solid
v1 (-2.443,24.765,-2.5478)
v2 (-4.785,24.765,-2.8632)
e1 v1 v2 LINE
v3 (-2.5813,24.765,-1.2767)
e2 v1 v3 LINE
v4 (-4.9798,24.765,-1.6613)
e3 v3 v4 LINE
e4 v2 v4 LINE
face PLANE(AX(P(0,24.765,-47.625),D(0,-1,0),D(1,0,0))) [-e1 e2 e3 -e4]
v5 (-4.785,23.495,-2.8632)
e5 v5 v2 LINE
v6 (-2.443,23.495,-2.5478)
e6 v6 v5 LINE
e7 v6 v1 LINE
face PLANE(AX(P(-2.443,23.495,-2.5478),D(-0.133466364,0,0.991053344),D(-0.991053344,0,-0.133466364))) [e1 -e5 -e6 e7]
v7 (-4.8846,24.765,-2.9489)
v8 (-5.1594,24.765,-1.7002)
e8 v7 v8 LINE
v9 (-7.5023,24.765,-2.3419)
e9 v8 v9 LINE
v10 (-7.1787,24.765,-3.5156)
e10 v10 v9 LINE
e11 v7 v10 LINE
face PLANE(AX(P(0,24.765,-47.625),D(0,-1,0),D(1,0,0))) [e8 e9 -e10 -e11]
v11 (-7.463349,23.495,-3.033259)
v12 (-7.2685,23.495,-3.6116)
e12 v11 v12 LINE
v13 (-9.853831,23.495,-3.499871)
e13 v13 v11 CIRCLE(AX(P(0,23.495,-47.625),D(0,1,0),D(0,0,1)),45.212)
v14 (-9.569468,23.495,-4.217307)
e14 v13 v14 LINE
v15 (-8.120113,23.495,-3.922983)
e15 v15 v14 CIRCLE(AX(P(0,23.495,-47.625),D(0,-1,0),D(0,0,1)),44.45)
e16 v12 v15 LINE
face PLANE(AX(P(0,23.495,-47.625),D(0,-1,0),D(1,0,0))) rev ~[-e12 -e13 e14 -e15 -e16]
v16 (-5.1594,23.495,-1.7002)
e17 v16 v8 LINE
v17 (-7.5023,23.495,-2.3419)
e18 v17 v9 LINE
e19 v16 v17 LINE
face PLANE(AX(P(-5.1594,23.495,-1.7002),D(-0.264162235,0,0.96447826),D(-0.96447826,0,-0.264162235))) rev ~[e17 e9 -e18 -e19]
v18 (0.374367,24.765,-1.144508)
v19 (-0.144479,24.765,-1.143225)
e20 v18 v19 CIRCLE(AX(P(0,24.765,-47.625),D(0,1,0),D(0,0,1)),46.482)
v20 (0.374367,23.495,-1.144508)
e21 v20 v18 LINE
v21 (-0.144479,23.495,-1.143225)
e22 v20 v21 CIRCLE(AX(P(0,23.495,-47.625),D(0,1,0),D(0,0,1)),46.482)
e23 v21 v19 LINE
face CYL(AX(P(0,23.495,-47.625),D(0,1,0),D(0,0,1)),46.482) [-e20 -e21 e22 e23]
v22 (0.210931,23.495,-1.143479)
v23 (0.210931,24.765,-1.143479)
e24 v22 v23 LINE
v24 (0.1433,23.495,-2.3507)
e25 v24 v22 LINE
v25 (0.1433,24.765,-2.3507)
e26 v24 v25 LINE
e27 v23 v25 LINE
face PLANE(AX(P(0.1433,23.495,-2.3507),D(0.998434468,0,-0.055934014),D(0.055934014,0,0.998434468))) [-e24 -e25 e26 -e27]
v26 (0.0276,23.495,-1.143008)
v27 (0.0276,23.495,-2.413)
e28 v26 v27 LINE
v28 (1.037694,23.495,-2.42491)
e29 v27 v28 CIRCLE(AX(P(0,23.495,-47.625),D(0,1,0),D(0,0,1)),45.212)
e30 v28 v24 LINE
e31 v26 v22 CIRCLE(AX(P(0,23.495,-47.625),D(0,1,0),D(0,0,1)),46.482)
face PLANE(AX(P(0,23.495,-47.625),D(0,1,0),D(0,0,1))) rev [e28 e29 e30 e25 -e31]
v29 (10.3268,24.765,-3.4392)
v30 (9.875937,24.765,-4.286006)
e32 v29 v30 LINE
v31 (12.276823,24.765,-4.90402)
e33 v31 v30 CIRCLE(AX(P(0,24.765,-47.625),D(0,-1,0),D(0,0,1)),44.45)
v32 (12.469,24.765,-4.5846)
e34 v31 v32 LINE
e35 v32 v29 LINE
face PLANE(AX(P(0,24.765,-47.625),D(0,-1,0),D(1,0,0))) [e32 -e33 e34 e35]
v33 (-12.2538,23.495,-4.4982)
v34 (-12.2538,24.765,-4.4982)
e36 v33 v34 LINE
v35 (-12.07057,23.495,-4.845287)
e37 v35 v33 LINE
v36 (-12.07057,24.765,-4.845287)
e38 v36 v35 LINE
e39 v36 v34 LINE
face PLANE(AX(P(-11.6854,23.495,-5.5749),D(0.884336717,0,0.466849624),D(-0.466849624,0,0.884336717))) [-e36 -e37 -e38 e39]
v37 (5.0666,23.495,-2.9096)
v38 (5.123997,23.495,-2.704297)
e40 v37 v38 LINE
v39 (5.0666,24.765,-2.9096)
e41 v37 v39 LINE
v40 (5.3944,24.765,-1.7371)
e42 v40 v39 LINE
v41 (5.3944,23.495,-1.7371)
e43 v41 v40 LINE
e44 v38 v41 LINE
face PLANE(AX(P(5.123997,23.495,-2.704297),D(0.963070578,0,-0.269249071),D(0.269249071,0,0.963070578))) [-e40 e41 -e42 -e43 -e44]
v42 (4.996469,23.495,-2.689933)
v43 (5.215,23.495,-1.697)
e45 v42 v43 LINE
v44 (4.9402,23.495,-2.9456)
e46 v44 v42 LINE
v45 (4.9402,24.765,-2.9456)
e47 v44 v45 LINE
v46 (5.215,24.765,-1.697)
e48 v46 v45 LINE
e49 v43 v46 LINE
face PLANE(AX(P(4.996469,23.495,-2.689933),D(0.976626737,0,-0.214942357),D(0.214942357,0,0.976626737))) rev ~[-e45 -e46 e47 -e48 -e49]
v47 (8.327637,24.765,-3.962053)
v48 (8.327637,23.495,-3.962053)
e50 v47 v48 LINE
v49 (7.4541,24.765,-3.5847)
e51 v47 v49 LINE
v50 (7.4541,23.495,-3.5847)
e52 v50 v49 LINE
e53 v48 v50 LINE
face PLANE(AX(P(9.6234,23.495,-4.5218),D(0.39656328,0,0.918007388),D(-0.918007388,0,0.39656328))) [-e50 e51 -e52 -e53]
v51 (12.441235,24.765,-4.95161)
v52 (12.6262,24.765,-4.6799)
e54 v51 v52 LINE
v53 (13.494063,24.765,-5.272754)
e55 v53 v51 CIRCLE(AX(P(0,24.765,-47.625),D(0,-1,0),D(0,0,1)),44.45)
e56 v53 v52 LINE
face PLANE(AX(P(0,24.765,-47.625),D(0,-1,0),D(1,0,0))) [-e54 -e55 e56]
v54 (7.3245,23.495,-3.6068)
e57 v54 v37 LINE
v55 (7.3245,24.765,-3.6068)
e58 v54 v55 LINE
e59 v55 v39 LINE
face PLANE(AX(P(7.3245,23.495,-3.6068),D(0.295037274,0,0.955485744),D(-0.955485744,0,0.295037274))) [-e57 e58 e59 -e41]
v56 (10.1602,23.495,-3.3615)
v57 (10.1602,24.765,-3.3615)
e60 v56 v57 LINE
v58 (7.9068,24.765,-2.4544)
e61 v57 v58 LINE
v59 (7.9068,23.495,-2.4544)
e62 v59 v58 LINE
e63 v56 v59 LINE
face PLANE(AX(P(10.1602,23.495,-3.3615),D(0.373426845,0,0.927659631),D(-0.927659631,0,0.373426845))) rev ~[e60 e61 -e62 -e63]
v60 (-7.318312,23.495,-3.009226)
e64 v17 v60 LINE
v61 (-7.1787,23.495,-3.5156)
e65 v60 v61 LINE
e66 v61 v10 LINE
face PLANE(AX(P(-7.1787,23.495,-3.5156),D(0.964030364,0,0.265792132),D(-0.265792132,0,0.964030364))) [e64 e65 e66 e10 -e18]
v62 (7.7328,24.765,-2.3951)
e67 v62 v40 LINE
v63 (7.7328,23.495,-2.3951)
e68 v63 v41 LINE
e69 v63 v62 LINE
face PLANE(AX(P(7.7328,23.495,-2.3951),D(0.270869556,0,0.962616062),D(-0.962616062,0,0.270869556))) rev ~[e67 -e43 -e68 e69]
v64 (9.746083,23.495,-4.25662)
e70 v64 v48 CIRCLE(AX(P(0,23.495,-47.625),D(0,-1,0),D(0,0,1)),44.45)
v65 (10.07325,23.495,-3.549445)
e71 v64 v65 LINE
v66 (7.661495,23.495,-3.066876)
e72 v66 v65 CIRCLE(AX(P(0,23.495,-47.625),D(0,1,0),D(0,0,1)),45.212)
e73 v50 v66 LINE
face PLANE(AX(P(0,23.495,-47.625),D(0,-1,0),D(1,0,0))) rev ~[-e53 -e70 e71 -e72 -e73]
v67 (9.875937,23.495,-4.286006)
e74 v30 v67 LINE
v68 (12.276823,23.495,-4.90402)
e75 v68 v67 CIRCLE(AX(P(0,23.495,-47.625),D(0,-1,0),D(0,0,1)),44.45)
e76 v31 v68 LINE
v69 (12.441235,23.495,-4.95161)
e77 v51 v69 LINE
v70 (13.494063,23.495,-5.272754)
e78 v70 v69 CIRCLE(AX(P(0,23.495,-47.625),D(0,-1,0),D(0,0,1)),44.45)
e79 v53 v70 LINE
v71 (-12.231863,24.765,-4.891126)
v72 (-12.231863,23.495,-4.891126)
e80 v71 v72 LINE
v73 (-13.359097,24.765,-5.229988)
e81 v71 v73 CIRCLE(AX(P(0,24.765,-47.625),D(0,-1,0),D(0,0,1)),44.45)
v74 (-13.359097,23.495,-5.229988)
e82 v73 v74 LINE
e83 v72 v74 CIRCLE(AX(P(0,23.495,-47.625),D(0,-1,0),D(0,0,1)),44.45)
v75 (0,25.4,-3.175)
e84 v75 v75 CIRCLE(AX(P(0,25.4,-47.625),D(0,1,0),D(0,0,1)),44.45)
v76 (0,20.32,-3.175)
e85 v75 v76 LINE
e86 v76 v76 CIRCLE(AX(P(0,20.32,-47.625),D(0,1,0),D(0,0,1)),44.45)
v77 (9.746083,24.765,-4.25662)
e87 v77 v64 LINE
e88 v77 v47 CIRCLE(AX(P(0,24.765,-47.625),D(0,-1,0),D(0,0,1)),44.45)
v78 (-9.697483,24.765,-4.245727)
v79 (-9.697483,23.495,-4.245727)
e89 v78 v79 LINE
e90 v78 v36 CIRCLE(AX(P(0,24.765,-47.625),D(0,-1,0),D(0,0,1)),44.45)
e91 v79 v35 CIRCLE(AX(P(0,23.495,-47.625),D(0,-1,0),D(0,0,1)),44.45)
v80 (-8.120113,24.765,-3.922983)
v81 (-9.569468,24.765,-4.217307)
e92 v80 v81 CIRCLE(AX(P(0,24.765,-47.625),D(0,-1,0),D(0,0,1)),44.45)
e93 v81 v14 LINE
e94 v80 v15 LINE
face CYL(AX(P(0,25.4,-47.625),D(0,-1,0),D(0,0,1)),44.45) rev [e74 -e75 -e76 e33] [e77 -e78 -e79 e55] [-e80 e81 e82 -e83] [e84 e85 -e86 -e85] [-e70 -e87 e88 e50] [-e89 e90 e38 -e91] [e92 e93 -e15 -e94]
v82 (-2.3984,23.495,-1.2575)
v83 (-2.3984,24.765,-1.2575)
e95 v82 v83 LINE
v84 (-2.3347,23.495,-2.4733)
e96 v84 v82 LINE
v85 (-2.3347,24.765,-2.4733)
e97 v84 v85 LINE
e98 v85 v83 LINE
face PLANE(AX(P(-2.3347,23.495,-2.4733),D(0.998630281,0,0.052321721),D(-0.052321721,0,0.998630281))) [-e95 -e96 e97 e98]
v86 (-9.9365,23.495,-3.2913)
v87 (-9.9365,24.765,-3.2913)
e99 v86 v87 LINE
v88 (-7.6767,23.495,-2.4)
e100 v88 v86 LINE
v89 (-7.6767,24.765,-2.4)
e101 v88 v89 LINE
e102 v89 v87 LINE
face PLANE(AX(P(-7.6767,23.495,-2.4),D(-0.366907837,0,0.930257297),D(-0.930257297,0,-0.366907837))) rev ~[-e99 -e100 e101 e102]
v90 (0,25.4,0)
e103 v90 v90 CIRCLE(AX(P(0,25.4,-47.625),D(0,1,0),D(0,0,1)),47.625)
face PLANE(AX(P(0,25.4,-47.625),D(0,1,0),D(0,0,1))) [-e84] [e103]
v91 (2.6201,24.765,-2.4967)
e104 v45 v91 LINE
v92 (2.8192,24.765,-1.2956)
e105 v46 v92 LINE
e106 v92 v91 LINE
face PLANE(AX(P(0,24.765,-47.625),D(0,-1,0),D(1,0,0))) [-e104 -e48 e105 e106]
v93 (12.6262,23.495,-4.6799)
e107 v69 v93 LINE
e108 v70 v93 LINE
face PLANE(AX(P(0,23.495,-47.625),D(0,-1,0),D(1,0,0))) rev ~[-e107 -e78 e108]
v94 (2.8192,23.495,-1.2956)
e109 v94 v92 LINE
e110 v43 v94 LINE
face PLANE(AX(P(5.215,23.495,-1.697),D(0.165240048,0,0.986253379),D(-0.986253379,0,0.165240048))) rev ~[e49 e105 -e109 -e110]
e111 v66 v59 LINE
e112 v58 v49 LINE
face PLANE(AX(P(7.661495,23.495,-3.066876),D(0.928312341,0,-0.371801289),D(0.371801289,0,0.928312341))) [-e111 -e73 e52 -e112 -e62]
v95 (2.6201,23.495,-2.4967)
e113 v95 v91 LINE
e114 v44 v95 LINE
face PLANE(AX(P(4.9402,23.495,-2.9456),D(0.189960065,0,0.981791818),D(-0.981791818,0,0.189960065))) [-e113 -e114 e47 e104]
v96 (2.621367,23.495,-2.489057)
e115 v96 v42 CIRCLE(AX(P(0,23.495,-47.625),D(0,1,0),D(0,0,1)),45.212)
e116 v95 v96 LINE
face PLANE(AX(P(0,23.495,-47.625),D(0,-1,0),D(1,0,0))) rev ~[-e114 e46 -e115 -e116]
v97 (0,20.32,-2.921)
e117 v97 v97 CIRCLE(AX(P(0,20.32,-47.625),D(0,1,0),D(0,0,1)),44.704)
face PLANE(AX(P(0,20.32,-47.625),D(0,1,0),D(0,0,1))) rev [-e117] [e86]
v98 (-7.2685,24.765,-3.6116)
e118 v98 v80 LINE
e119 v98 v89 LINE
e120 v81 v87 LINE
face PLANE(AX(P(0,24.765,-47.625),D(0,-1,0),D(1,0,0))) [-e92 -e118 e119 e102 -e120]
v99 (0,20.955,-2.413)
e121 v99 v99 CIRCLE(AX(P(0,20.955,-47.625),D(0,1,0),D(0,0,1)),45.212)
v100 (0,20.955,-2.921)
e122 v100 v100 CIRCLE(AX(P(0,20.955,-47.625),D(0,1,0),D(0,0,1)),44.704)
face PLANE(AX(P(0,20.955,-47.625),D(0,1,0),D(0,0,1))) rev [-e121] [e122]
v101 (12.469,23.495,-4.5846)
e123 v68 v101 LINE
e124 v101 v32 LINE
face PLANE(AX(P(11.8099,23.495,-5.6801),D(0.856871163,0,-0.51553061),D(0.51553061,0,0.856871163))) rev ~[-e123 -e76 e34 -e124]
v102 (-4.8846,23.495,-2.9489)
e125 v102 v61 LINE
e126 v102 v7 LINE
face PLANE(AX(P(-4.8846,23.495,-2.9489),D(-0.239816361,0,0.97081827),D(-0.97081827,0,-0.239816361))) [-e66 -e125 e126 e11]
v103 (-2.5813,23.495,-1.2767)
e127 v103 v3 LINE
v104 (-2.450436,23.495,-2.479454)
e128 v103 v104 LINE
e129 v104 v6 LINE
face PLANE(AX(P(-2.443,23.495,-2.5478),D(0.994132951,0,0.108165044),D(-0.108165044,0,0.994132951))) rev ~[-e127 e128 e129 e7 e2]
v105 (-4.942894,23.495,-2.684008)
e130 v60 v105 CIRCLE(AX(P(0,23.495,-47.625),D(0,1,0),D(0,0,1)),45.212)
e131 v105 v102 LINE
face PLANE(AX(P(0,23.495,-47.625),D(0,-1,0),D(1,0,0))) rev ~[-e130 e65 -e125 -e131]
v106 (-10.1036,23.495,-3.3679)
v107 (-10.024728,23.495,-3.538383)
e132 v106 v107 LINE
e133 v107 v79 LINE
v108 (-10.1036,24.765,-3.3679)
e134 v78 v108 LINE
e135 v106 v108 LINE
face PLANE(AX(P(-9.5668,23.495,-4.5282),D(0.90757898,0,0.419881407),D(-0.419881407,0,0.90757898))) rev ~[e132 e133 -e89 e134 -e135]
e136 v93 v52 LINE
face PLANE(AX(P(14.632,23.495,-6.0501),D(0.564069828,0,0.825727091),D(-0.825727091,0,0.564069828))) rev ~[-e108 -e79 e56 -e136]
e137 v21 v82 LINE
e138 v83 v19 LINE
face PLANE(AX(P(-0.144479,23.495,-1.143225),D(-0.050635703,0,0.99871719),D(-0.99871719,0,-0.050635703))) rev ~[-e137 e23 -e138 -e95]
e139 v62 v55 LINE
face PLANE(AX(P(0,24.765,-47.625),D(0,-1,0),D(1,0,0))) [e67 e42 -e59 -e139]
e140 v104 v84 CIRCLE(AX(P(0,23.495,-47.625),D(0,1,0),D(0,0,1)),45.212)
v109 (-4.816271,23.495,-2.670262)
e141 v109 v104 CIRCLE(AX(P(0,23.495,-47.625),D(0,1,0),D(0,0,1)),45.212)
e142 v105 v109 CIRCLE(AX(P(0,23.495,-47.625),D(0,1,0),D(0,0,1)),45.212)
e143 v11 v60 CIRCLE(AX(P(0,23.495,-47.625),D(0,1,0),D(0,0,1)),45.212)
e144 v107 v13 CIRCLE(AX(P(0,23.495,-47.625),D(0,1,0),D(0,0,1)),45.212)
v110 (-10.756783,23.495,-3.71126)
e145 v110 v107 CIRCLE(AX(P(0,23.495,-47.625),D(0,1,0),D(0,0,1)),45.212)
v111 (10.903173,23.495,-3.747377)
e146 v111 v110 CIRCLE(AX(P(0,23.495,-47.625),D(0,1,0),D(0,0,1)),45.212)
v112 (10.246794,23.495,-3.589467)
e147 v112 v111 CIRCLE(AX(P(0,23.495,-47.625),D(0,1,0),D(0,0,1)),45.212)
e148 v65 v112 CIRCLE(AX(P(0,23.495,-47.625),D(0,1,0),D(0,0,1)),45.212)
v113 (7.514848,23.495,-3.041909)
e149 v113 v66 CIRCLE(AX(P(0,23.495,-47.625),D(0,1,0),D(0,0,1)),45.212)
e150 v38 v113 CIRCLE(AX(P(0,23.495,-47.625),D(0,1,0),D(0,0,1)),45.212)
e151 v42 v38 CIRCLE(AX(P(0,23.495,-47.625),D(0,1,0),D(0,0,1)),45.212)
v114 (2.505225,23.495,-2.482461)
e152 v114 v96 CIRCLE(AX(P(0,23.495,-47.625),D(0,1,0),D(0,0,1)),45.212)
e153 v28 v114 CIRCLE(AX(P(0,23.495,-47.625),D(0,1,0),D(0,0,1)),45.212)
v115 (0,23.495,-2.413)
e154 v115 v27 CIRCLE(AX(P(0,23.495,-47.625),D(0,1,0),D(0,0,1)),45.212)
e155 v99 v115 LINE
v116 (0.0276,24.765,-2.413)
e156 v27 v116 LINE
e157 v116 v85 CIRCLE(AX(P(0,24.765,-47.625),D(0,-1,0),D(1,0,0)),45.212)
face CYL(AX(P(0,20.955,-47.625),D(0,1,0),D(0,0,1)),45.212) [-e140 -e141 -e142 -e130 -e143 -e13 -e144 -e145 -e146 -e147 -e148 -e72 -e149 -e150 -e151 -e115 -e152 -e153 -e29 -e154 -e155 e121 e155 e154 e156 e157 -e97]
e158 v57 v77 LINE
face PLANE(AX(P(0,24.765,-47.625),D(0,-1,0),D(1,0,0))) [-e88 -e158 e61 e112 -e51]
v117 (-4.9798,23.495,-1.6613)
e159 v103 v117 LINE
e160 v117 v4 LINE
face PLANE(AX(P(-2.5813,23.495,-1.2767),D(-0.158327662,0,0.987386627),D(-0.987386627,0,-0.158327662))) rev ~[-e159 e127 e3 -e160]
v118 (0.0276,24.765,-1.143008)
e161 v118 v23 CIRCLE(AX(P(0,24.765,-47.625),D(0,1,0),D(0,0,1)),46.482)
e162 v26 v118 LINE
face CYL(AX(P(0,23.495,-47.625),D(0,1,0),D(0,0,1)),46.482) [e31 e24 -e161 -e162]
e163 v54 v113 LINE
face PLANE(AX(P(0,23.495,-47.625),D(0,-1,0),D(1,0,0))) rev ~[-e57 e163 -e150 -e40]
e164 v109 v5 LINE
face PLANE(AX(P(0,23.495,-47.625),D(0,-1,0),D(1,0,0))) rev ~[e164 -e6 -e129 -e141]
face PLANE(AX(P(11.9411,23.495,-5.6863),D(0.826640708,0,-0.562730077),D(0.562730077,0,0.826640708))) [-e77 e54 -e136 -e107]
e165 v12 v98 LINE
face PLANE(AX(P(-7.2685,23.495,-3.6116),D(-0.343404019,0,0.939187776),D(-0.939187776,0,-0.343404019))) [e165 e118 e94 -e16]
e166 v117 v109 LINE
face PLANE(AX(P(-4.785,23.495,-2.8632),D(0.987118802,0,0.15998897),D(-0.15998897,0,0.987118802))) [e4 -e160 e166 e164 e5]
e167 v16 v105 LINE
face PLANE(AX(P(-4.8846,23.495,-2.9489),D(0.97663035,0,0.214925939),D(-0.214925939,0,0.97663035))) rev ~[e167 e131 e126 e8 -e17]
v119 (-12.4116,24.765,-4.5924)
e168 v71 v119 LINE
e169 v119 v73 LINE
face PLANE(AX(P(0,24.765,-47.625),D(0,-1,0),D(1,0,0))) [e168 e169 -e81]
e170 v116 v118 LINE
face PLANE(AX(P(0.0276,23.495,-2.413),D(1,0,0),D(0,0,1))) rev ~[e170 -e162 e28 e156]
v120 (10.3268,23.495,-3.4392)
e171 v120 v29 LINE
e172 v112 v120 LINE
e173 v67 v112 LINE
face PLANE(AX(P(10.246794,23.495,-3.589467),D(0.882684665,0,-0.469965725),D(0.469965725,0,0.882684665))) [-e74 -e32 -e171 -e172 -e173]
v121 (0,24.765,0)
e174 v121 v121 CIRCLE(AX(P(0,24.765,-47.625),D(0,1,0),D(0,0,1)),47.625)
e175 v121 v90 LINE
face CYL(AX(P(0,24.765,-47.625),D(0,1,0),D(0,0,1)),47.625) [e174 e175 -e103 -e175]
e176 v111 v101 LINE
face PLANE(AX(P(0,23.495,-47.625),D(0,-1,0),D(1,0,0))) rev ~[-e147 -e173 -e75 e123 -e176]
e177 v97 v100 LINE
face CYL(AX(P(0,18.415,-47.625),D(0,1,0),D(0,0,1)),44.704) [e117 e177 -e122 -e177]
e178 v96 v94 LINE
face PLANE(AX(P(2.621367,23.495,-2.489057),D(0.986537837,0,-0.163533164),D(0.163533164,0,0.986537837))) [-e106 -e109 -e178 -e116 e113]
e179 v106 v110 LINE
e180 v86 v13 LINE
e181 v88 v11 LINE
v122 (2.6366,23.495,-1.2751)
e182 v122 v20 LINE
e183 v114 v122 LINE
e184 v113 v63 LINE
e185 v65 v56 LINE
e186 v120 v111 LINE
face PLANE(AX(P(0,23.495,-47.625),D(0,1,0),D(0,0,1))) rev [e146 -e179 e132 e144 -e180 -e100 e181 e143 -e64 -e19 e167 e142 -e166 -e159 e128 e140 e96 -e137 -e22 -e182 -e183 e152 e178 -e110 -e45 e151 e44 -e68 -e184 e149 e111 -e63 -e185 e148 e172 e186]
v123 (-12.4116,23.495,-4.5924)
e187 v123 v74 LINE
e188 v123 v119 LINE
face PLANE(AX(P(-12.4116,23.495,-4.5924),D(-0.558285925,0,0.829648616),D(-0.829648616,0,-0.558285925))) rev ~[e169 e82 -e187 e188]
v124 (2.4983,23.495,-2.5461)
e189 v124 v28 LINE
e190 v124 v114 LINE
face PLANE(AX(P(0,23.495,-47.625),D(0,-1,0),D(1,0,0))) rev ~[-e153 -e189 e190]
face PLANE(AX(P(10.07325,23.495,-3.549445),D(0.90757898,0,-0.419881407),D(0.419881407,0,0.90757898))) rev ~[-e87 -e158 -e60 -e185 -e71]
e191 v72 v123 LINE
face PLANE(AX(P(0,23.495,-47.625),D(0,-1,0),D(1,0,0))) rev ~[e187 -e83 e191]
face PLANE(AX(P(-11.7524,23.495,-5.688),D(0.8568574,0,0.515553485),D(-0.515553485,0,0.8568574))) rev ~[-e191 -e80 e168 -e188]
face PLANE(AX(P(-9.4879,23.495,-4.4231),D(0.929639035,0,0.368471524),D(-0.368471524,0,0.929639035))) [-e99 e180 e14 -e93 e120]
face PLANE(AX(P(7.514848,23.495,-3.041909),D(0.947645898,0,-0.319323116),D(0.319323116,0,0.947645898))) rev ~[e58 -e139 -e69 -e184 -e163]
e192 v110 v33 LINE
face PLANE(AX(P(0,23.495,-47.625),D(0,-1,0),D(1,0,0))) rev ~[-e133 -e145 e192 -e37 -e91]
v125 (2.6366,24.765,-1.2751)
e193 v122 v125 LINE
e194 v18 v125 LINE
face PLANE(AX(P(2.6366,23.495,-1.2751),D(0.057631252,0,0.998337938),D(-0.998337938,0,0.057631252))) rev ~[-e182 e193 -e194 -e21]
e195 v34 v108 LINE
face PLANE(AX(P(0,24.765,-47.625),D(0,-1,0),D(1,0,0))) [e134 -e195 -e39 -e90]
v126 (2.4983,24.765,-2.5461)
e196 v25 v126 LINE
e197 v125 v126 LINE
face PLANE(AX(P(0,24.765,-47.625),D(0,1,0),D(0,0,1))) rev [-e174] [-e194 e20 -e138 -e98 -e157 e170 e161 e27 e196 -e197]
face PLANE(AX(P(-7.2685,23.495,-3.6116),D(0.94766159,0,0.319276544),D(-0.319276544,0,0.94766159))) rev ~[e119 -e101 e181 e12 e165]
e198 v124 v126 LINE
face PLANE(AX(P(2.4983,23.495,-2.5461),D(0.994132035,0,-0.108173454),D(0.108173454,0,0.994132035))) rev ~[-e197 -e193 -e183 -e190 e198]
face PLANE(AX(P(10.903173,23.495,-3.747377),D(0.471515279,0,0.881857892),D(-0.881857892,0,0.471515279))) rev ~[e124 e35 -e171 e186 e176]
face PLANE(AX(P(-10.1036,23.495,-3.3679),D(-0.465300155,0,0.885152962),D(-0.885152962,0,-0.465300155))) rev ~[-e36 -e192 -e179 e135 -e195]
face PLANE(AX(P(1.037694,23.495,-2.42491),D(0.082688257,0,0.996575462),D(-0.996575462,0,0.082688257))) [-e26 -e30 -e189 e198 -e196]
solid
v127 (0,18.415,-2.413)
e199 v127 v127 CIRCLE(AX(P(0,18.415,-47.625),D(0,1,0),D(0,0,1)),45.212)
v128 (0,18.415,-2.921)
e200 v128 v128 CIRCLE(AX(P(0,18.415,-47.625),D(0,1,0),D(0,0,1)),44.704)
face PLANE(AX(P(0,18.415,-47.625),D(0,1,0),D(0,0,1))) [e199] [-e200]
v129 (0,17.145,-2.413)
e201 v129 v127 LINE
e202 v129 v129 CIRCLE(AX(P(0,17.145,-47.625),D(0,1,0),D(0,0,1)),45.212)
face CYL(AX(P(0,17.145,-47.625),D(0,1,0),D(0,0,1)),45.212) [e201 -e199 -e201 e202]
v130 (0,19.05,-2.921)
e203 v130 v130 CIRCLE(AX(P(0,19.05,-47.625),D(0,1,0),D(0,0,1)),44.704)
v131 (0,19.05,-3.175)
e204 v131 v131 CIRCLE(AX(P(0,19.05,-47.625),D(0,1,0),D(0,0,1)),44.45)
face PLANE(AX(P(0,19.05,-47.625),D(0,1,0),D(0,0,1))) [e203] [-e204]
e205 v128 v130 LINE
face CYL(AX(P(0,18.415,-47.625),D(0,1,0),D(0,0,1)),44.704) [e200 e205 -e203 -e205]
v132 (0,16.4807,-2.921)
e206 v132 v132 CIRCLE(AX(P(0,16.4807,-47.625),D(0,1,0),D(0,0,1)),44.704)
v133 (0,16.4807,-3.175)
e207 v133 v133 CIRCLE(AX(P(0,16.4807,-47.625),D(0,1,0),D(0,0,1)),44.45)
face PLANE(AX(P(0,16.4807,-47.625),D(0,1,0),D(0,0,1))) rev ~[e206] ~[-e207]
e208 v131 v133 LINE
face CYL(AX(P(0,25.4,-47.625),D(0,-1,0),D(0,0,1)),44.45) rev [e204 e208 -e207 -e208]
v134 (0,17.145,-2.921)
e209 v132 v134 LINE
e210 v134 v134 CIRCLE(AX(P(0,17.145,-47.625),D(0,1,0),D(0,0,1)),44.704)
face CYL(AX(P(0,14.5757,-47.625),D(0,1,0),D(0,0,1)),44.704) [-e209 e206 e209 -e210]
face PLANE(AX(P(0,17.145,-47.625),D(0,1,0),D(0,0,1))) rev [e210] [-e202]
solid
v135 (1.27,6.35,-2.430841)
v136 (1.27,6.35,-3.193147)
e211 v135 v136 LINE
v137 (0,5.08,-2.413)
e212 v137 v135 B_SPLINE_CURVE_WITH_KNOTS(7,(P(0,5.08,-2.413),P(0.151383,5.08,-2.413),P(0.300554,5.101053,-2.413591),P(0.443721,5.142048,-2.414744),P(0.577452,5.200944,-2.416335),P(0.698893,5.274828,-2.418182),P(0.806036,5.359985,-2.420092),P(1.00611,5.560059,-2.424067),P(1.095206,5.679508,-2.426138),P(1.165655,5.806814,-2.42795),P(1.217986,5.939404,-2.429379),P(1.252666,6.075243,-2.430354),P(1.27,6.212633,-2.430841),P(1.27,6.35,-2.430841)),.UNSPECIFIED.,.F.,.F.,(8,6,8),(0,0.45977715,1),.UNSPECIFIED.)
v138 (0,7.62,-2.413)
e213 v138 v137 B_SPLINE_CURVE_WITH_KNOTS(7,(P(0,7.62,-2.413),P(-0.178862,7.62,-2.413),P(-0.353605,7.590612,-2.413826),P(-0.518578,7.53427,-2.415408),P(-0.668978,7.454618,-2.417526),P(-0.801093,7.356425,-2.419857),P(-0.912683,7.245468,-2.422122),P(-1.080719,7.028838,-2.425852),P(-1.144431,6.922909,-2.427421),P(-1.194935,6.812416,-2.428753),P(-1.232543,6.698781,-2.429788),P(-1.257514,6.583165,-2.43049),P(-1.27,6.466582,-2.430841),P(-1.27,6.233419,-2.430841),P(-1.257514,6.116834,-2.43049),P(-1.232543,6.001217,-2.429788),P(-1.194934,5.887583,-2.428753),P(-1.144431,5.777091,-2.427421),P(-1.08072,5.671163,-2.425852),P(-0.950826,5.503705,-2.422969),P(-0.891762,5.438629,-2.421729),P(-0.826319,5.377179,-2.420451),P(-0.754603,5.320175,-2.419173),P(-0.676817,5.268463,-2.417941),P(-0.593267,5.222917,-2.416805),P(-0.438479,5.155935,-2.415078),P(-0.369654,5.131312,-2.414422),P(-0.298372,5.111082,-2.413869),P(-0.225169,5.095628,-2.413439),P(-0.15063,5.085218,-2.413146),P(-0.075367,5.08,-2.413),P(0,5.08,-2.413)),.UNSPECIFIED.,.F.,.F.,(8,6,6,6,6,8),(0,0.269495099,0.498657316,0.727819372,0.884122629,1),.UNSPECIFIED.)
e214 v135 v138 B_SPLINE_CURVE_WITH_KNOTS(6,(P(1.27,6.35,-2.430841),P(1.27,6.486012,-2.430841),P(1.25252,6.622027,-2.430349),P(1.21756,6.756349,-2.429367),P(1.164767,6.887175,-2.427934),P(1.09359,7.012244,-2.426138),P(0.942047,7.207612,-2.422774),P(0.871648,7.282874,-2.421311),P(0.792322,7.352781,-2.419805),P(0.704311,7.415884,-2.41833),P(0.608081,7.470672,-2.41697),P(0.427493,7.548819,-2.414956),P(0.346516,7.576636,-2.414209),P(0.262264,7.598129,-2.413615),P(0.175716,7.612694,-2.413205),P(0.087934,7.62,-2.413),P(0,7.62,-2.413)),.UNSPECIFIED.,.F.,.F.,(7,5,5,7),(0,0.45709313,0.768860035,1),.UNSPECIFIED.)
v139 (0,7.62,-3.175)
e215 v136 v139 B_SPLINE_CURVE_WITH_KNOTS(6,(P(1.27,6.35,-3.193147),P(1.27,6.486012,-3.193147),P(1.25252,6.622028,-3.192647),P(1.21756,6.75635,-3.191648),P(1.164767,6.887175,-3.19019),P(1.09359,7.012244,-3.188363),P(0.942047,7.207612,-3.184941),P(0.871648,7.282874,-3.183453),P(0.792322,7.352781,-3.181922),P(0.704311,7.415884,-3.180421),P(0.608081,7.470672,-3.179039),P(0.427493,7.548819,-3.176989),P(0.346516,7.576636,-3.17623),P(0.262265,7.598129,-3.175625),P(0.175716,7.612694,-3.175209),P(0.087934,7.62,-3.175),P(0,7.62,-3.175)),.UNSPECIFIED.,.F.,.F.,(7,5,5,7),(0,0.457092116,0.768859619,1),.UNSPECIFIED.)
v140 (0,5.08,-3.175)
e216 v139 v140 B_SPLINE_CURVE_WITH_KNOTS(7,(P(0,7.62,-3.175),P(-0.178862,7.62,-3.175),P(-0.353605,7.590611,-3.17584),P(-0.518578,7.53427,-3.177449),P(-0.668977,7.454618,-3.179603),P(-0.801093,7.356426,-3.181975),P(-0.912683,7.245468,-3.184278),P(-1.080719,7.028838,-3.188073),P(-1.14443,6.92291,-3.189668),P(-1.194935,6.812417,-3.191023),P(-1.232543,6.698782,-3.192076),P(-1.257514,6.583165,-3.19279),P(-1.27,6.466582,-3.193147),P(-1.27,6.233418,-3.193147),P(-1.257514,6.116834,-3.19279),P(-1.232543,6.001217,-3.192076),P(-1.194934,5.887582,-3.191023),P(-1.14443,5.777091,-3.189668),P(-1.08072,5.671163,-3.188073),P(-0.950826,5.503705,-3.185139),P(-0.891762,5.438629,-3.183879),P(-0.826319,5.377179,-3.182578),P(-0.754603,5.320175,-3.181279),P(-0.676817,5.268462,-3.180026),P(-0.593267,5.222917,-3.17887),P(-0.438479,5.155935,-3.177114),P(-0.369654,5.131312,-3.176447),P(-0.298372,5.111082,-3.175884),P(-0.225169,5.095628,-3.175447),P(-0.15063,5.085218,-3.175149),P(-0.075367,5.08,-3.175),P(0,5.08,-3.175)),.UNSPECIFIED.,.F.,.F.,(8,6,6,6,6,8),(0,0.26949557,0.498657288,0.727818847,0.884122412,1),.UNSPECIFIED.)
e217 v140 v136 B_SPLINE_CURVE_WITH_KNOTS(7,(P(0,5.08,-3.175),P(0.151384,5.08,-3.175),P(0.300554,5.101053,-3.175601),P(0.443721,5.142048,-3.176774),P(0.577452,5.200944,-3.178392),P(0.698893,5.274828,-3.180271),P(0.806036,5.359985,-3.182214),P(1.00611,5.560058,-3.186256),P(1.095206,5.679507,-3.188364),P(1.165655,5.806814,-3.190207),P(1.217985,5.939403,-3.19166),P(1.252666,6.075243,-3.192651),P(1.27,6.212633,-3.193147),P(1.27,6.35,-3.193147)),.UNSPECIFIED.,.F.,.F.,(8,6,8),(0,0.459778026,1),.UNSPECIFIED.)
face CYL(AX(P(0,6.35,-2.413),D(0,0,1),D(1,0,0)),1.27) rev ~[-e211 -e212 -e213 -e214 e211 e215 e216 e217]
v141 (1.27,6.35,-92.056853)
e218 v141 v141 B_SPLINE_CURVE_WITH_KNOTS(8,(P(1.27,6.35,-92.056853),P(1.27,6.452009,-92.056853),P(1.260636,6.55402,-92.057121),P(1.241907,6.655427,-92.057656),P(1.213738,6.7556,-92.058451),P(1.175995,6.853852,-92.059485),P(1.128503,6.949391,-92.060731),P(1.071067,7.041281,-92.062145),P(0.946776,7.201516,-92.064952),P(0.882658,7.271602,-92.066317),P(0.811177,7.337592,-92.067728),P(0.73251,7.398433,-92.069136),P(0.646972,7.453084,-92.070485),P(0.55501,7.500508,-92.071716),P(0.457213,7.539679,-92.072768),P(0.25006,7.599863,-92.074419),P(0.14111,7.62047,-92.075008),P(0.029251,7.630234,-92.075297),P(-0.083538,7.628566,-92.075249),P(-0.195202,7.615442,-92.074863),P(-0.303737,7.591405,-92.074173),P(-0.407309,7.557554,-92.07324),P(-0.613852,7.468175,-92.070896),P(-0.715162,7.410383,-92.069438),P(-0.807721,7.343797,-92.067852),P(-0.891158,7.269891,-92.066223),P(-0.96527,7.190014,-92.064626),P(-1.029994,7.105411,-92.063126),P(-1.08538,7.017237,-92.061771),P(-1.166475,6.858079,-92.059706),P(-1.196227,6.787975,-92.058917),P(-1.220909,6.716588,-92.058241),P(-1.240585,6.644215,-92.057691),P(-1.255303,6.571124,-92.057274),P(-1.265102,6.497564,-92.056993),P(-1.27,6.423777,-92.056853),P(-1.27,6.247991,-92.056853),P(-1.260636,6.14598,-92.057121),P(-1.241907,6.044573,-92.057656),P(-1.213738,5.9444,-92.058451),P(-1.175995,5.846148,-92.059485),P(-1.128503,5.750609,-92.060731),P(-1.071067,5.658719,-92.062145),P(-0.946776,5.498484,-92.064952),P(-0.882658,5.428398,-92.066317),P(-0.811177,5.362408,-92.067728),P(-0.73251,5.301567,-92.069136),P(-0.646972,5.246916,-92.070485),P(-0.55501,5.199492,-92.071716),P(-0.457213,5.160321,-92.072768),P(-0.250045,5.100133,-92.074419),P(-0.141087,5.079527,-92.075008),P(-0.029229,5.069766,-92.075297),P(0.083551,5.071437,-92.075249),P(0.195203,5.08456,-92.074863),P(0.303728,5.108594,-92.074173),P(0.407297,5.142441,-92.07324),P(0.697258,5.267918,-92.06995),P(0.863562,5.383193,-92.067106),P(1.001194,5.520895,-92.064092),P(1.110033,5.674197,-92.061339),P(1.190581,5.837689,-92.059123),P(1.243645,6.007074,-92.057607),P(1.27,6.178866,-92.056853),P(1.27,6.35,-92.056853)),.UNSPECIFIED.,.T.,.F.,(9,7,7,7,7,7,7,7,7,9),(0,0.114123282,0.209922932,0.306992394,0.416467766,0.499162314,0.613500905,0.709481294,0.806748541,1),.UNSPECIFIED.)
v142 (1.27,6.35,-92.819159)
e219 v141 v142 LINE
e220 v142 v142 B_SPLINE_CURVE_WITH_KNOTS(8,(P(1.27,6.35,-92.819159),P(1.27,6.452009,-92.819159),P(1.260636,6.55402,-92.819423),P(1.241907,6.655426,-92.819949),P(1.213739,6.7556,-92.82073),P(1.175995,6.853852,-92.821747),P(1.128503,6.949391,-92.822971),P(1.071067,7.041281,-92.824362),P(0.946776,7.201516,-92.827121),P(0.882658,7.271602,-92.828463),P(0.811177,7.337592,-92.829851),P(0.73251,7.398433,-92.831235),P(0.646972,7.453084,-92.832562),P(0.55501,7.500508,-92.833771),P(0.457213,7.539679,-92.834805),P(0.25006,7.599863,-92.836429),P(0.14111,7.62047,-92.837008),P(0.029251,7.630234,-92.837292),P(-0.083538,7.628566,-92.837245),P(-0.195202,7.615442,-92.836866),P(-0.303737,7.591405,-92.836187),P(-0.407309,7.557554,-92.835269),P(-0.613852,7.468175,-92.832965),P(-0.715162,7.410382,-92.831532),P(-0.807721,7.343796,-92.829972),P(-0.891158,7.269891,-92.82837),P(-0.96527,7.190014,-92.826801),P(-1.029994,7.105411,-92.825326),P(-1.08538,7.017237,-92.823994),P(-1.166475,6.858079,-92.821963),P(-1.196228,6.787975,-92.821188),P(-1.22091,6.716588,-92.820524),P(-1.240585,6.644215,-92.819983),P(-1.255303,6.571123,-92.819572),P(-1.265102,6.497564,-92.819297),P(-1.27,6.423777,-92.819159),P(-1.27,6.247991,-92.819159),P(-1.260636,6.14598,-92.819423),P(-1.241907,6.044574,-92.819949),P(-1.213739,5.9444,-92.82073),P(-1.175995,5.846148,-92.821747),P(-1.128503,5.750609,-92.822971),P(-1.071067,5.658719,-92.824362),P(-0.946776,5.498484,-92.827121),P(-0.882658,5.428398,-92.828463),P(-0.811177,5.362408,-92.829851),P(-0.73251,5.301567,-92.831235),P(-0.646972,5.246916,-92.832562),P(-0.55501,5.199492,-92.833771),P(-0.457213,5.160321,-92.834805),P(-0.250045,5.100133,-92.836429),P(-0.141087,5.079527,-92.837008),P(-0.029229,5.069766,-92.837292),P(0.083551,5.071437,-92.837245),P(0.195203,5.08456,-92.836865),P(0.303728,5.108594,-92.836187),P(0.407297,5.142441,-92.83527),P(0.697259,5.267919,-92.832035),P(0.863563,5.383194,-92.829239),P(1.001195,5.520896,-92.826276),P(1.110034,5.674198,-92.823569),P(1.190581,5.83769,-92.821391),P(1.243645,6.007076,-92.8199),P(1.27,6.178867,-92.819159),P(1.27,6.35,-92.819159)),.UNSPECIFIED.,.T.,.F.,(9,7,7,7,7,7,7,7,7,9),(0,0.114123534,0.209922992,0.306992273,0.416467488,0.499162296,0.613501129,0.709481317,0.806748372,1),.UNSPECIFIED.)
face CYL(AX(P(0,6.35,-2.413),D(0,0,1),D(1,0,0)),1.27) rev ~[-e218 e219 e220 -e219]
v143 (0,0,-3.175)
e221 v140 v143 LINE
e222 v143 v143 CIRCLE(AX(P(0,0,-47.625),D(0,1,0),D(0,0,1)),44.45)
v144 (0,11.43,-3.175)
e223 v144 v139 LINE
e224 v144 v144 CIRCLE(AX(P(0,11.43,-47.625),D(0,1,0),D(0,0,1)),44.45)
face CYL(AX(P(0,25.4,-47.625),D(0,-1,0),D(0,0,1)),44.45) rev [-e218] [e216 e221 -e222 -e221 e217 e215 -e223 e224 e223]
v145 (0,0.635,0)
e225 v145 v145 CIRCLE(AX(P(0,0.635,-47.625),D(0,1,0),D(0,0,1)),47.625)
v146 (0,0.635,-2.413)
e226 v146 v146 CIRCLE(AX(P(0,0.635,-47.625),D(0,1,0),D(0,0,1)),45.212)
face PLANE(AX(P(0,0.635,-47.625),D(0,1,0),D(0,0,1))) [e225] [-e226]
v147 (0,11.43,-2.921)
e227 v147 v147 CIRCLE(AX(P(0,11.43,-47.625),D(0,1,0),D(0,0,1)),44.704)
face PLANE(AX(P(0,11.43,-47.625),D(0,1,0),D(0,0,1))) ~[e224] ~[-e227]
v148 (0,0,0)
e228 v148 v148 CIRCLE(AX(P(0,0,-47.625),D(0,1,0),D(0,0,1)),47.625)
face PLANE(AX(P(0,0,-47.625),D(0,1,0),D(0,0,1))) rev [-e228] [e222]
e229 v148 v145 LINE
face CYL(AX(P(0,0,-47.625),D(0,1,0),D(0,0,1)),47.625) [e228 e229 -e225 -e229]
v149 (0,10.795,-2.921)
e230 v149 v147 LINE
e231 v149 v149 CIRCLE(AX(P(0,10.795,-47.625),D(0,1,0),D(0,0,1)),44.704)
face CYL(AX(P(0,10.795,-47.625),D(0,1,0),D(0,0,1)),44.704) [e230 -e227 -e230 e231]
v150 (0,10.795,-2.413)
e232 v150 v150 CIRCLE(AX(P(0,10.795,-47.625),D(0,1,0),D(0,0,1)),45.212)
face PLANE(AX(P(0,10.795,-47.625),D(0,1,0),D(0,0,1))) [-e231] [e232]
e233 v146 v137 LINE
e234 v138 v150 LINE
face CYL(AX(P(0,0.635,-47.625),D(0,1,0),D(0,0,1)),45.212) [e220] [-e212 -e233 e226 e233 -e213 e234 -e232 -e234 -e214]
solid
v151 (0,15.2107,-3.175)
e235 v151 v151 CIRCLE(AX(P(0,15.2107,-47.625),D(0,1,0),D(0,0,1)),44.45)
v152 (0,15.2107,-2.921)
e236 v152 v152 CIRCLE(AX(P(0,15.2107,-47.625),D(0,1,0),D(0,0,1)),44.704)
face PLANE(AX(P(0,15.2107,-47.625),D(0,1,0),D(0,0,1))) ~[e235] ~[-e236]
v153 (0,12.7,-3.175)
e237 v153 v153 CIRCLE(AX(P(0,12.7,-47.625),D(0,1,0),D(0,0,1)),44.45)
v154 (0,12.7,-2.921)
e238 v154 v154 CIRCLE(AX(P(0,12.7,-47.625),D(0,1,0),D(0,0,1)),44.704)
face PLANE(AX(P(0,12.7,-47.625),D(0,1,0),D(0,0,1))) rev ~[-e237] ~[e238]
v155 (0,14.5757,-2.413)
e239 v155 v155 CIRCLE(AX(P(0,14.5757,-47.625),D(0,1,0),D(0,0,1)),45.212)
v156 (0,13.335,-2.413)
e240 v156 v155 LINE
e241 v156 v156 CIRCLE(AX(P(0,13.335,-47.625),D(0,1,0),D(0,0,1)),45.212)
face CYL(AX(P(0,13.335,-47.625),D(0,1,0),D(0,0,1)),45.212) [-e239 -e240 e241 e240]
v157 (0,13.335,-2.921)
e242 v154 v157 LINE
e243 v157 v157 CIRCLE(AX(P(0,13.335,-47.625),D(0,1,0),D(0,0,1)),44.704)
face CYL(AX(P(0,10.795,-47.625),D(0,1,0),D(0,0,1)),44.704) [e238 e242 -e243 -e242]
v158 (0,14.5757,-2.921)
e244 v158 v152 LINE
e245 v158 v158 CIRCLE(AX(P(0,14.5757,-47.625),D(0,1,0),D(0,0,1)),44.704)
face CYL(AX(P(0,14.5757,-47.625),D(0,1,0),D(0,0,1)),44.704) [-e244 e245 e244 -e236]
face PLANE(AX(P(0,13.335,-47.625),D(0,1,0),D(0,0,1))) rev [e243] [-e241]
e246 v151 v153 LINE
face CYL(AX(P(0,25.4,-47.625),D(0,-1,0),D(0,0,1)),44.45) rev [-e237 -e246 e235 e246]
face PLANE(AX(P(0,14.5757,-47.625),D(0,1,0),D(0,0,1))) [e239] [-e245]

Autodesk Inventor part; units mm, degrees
ref_plane "YZ Plane" through (0, 0, 0) normal (1, 0, 0) x (0, 1, 0)
ref_plane "XZ Plane" through (0, 0, 0) normal (0, 1, 0) x (-1, 0, 0)
sketch "Sketch1" plane through (0, 0, 0) normal (1, 0, 0) x (0, 1, 0)
  line L0 (25.4, 0) -> (25.4, -3.175)
  line L1 (0, -3.175) -> (0, 0)
  line L2 (0.635, 0) -> (0.635, -2.413)
  line L3 (24.765, -1.143) -> (24.765, 0)
  line L4 (0, 0) -> (0.635, 0)
  line L5 (24.765, 0) -> (25.4, 0)
  line L6 (18.415, -2.413) -> (18.415, -2.921)
  line L7 (18.415, -2.921) -> (20.955, -2.921)
  line L8 (20.955, -2.921) -> (20.955, -2.413)
  line L9 (10.795, -2.413) -> (10.795, -2.921)
  line L10 (10.795, -2.921) -> (13.335, -2.921)
  line L11 (13.335, -2.921) -> (13.335, -2.413)
  line L12 (14.5757, -2.413) -> (14.5757, -2.921)
  line L13 (14.5757, -2.921) -> (17.145, -2.921)
  line L14 (17.145, -2.921) -> (17.145, -2.413)
  line L15 (23.495, -2.413) -> (23.495, -1.143)
  line L16 (23.495, -1.143) -> (24.765, -1.143)
  line L17 (20.955, -2.413) -> (23.495, -2.413)
  line L18 (17.145, -2.413) -> (18.415, -2.413)
  line L19 (13.335, -2.413) -> (14.5757, -2.413)
  line L20 (20.32, -2.921) -> (19.05, -2.921)
  line L21 (19.05, -2.921) -> (19.05, -3.175)
  line L22 (19.05, -3.175) -> (20.32, -3.175)
  line L23 (20.32, -3.175) -> (20.32, -2.921)
  line L24 (15.2107, -2.921) -> (16.4807, -2.921)
  line L25 (16.4807, -2.921) -> (16.4807, -3.175)
  line L26 (16.4807, -3.175) -> (15.2107, -3.175)
  line L27 (15.2107, -3.175) -> (15.2107, -2.921)
  line L28 (11.43, -2.921) -> (12.7, -2.921)
  line L29 (12.7, -2.921) -> (12.7, -3.175)
  line L30 (12.7, -3.175) -> (11.43, -3.175)
  line L31 (11.43, -3.175) -> (11.43, -2.921)
  line L32 (0.635, -47.625) -> (20.32, -47.625)
  line L33 (25.4, -3.175) -> (7.62, -3.175)
  line L34 (5.08, -3.175) -> (0, -3.175)
  line L35 (0.635, -2.413) -> (5.08, -2.413)
  line L36 (7.62, -2.413) -> (10.795, -2.413)
  line L37 (7.62, -3.175) -> (5.08, -3.175)
  line L38 (5.08, -2.413) -> (7.62, -2.413)
  dimension "d3" = 2.413
  dimension "d21" = 1.27
  dimension "d22" = 0.254
  dimension "d23" = 1.27
  dimension "d24" = 0.254
  dimension "d25" = 1.27
  dimension "d26" = 0.254
  dimension "d27" = 0.635
  dimension "d28" = 0
  dimension "d56" = 0.635
  dimension "d57" = 0
  dimension "d59" = 0.635
  dimension "d60" = 0
  dimension "d78" = 0.762
  dimension "d106" = 25.4
  dimension "d107" = 24.765
  dimension "d108" = 23.495
  dimension "d109" = 20.955
  dimension "d110" = 18.415
  dimension "d111" = 17.145
  dimension "d112" = 14.5757
  dimension "d113" = 13.335
  dimension "d118" = 0.635
  dimension "d120" = 47.625
  dimension "d121" = 90
  dimension "d122" = 90
  dimension "d123" = 12.7
  dimension "d124" = 1.143
  dimension "d125" = 2.921
  dimension "d126" = 2.413
  dimension "d127" = 2.921
  dimension "d128" = 3.175
  dimension "d129" = 2.921
  dimension "d130" = 2.413
  dimension "d131" = 3.175
  dimension "d132" = 2.413
  dimension "d133" = 2.413
  dimension "d134" = 5.08
  dimension "d135" = 24.765
  dimension "d136" = 10.795
  dimension "d137" = 5.08
revolve "Revolution1" add sketch "Sketch1" angle 360 about axis through (0, 0.635, -47.625) along (0, 1, 0) contours L0 L33 L23 L7 L8 L17 L15 L16 L3 L5 | L33 L25 L13 L14 L18 L6 L7 L21 | L33 L29 L10 L11 L19 L12 L13 L27 | L33 L37 L34 L1 L4 L2 L35 L38 L36 L9 L10 L31
sketch "Sketch2" plane through (0, 23.495, -47.625) normal (0, -1, 0) x (1, 0, 0)
  line L0 (0.0276, 45.212) -> (0.0276, 46.4905)
  line L1 (-2.3347, 45.1517) -> (-2.3984, 46.3675)
  line L2 (0.0352, 22.3605) -> (23.8944, 22.3605) construction
  line L3 (0.0276, 46.4905) -> (-2.3984, 46.3675)
  circle A0 centre (0, 0) radius 45.212 projected
  line L4 (0.0276, 45.212) -> (-2.3347, 45.1517)
  line L5 (-2.443, 45.0772) -> (-2.5813, 46.3483)
  line L6 (-4.785, 44.7618) -> (-4.9798, 45.9637)
  line L7 (-2.5813, 46.3483) -> (-4.9798, 45.9637)
  line L8 (-2.443, 45.0772) -> (-4.785, 44.7618)
  line L9 (-4.8846, 44.6761) -> (-5.1594, 45.9248)
  line L10 (-7.1787, 44.1094) -> (-7.5023, 45.2831)
  line L11 (-5.1594, 45.9248) -> (-7.5023, 45.2831)
  line L12 (-4.8846, 44.6761) -> (-7.1787, 44.1094)
  line L13 (-7.2685, 44.0134) -> (-7.6767, 45.225)
  line L14 (-9.4879, 43.2019) -> (-9.9365, 44.3337)
  line L15 (-7.6767, 45.225) -> (-9.9365, 44.3337)
  line L16 (-7.2685, 44.0134) -> (-9.4879, 43.2019)
  line L17 (-9.5668, 43.0968) -> (-10.1036, 44.2571)
  line L18 (-11.6854, 42.0501) -> (-12.2538, 43.1268)
  line L19 (-10.1036, 44.2571) -> (-12.2538, 43.1268)
  line L20 (-9.5668, 43.0968) -> (-11.6854, 42.0501)
  line L21 (-11.7524, 41.937) -> (-12.4116, 43.0326)
  line L22 (-13.7455, 40.6674) -> (-14.427, 41.6764)
  line L23 (-12.4116, 43.0326) -> (-14.427, 41.6764)
  line L24 (-11.7524, 41.937) -> (-13.7455, 40.6674)
  line L25 (-13.7999, 40.5478) -> (-14.5737, 41.5657)
  line L26 (-15.6441, 39.0702) -> (-16.4306, 39.9995)
  line L27 (-14.5737, 41.5657) -> (-16.4306, 39.9995)
  line L28 (-13.7999, 40.5478) -> (-15.6441, 39.0702)
  line L29 (-15.6852, 38.9453) -> (-16.5645, 39.8736)
  line L30 (-17.3588, 37.277) -> (-18.2412, 38.1159)
  line L31 (-16.5645, 39.8736) -> (-18.2412, 38.1159)
  line L32 (-15.6852, 38.9453) -> (-17.3588, 37.277)
  line L33 (-17.3862, 37.1484) -> (-18.3607, 37.9762)
  line L34 (-18.8696, 35.3089) -> (-19.8375, 36.0475)
  line L35 (-18.3607, 37.9762) -> (-19.8375, 36.0475)
  line L36 (-17.3862, 37.1484) -> (-18.8696, 35.3089)
  line L37 (-18.8829, 35.1782) -> (-19.9412, 35.8957)
  line L38 (-20.1587, 33.189) -> (-21.2008, 33.8186)
  line L39 (-19.9412, 35.8957) -> (-21.2008, 33.8186)
  line L40 (-18.8829, 35.1782) -> (-20.1587, 33.189)
  line L41 (-20.1579, 33.0576) -> (-21.2875, 33.6565)
  line L42 (-21.2111, 30.9422) -> (-22.3151, 31.4554)
  line L43 (-21.2875, 33.6565) -> (-22.3151, 31.4554)
  line L44 (-20.1579, 33.0576) -> (-21.2111, 30.9422)
  line L45 (-21.196, 30.8116) -> (-22.3838, 31.2849)
  line L46 (-22.0144, 28.5948) -> (-23.1675, 28.9856)
  line L47 (-22.3838, 31.2849) -> (-23.1675, 28.9856)
  line L48 (-21.196, 30.8116) -> (-22.0144, 28.5948)
  line L49 (-21.9853, 28.4666) -> (-23.2173, 28.8087)
  line L50 (-22.5592, 26.1742) -> (-23.7477, 26.4381)
  line L51 (-23.2173, 28.8087) -> (-23.7477, 26.4381)
  line L52 (-21.9853, 28.4666) -> (-22.5592, 26.1742)
  line L53 (-22.5164, 26.05) -> (-23.7781, 26.2568)
  line L54 (-22.8391, 23.709) -> (-24.0492, 23.8428)
  line L55 (-23.7781, 26.2568) -> (-24.0492, 23.8428)
  line L56 (-22.5164, 26.05) -> (-22.8391, 23.709)
  line L57 (-22.7831, 23.5901) -> (-24.0598, 23.6593)
  line L58 (-22.8508, 21.2279) -> (-24.0683, 21.2301)
  line L59 (-24.0598, 23.6593) -> (-24.0683, 21.2301)
  line L60 (-22.7831, 23.5901) -> (-22.8508, 21.2279)
  line L61 (-22.7823, 21.1158) -> (-24.0589, 21.0466)
  line L62 (-22.5941, 18.7602) -> (-23.8047, 18.6307)
  line L63 (-24.0589, 21.0466) -> (-23.8047, 18.6307)
  line L64 (-22.7823, 21.1158) -> (-22.5941, 18.7602)
  line L65 (-22.5139, 18.6561) -> (-23.7756, 18.4492)
  line L66 (-22.0722, 16.3346) -> (-23.2617, 16.075)
  line L67 (-23.7756, 18.4492) -> (-23.2617, 16.075)
  line L68 (-22.5139, 18.6561) -> (-22.0722, 16.3346)
  line L69 (-21.9812, 16.2398) -> (-23.2132, 15.8977)
  line L70 (-21.2911, 13.9797) -> (-22.4456, 13.593)
  line L71 (-23.2132, 15.8977) -> (-22.4456, 13.593)
  line L72 (-21.9812, 16.2398) -> (-21.2911, 13.9797)
  line L73 (-21.1904, 13.8953) -> (-22.3781, 13.422)
  line L74 (-20.26, 11.723) -> (-21.3659, 11.2138)
  line L75 (-22.3781, 13.422) -> (-21.3659, 11.2138)
  line L76 (-21.1904, 13.8953) -> (-20.26, 11.723)
  line L77 (-20.1507, 11.65) -> (-21.2803, 11.0511)
  line L78 (-18.9909, 9.5911) -> (-20.0352, 8.9653)
  line L79 (-21.2803, 11.0511) -> (-20.0352, 8.9653)
  line L80 (-20.1507, 11.65) -> (-18.9909, 9.5911)
  line L81 (-18.8744, 9.5303) -> (-19.9326, 8.8128)
  line L82 (-17.4987, 7.6089) -> (-18.4693, 6.8738)
  line L83 (-19.9326, 8.8128) -> (-18.4693, 6.8738)
  line L84 (-18.8744, 9.5303) -> (-17.4987, 7.6089)
  line L85 (-17.3763, 7.561) -> (-18.3508, 6.7333)
  line L86 (-15.801, 5.7996) -> (-16.6864, 4.9639)
  line L87 (-18.3508, 6.7333) -> (-16.6864, 4.9639)
  line L88 (-17.3763, 7.561) -> (-15.801, 5.7996)
  line L89 (-15.6741, 5.7653) -> (-16.5534, 4.837)
  line L90 (-13.9176, 4.1845) -> (-14.7075, 3.258)
  line L91 (-16.5534, 4.837) -> (-14.7075, 3.258)
  line L92 (-15.6741, 5.7653) -> (-13.9176, 4.1845)
  line L93 (-13.7878, 4.1641) -> (-14.5615, 3.1462)
  line L94 (-11.8706, 2.7824) -> (-12.5557, 1.776)
  line L95 (-14.5615, 3.1462) -> (-12.5557, 1.776)
  line L96 (-13.7878, 4.1641) -> (-11.8706, 2.7824)
  line L97 (-11.7394, 2.7762) -> (-12.3985, 1.6807)
  line L98 (-9.6841, 1.61) -> (-10.2563, 0.5353)
  line L99 (-12.3985, 1.6807) -> (-10.2563, 0.5353)
  line L100 (-11.7394, 2.7762) -> (-9.6841, 1.61)
  line L101 (-9.5529, 1.6179) -> (-10.0897, 0.4575)
  line L102 (-7.3836, 0.6808) -> (-7.8363, -0.4495)
  line L103 (-10.0897, 0.4575) -> (-7.8363, -0.4495)
  line L104 (-9.5529, 1.6179) -> (-7.3836, 0.6808)
  line L105 (-7.254, 0.7029) -> (-7.6623, -0.5088)
  line L106 (-4.9961, 0.0057) -> (-5.3239, -1.1668)
  line L107 (-7.6623, -0.5088) -> (-5.3239, -1.1668)
  line L108 (-7.254, 0.7029) -> (-4.9961, 0.0057)
  line L109 (-4.8697, 0.0417) -> (-5.1445, -1.2069)
  line L110 (-2.5496, -0.4072) -> (-2.7488, -1.6083)
  line L111 (-5.1445, -1.2069) -> (-2.7488, -1.6083)
  line L112 (-4.8697, 0.0417) -> (-2.5496, -0.4072)
  line L113 (-2.4278, -0.3578) -> (-2.5661, -1.6288)
  line L114 (-0.0728, -0.5532) -> (-0.1409, -1.7688)
  line L115 (-2.5661, -1.6288) -> (-0.1409, -1.7688)
  line L116 (-2.4278, -0.3578) -> (-0.0728, -0.5532)
  line L117 (0.0429, -0.4909) -> (0.0429, -1.7695)
  line L118 (2.4052, -0.4306) -> (2.4689, -1.6464)
  line L119 (0.0429, -1.7695) -> (2.4689, -1.6464)
  line L120 (0.0429, -0.4909) -> (2.4052, -0.4306)
  line L121 (2.5135, -0.3561) -> (2.6517, -1.6272)
  line L122 (4.8555, -0.0407) -> (5.0503, -1.2426)
  line L123 (2.6517, -1.6272) -> (5.0503, -1.2426)
  line L124 (2.5135, -0.3561) -> (4.8555, -0.0407)
  line L125 (4.9551, 0.045) -> (5.2299, -1.2037)
  line L126 (7.2492, 0.6117) -> (7.5728, -0.562)
  line L127 (5.2299, -1.2037) -> (7.5728, -0.562)
  line L128 (4.9551, 0.045) -> (7.2492, 0.6117)
  line L129 (7.339, 0.7077) -> (7.7472, -0.5039)
  line L130 (9.5584, 1.5192) -> (10.007, 0.3874)
  line L131 (7.7472, -0.5039) -> (10.007, 0.3874)
  line L132 (7.339, 0.7077) -> (9.5584, 1.5192)
  line L133 (9.6372, 1.6243) -> (10.1741, 0.464)
  line L134 (11.7559, 2.671) -> (12.3243, 1.5943)
  line L135 (10.1741, 0.464) -> (12.3243, 1.5943)
  line L136 (9.6372, 1.6243) -> (11.7559, 2.671)
  line L137 (11.8229, 2.7841) -> (12.4821, 1.6885)
  line L138 (13.816, 4.0537) -> (14.4974, 3.0447)
  line L139 (12.4821, 1.6885) -> (14.4974, 3.0447)
  line L140 (11.8229, 2.7841) -> (13.816, 4.0537)
  line L141 (13.8704, 4.1733) -> (14.6442, 3.1554)
  line L142 (15.7146, 5.6509) -> (16.5011, 4.7216)
  line L143 (14.6442, 3.1554) -> (16.5011, 4.7216)
  line L144 (13.8704, 4.1733) -> (15.7146, 5.6509)
  line L145 (15.7557, 5.7758) -> (16.635, 4.8475)
  line L146 (17.4293, 7.4441) -> (18.3117, 6.6052)
  line L147 (16.635, 4.8475) -> (18.3117, 6.6052)
  line L148 (15.7557, 5.7758) -> (17.4293, 7.4441)
  line L149 (17.4567, 7.5727) -> (18.4312, 6.7449)
  line L150 (18.9401, 9.4122) -> (19.908, 8.6736)
  line L151 (18.4312, 6.7449) -> (19.908, 8.6736)
  line L152 (17.4567, 7.5727) -> (18.9401, 9.4122)
  line L153 (18.9534, 9.5429) -> (20.0117, 8.8254)
  line L154 (20.2292, 11.5321) -> (21.2713, 10.9025)
  line L155 (20.0117, 8.8254) -> (21.2713, 10.9025)
  line L156 (18.9534, 9.5429) -> (20.2292, 11.5321)
  line L157 (20.2283, 11.6635) -> (21.358, 11.0646)
  line L158 (21.2816, 13.7789) -> (22.3856, 13.2657)
  line L159 (21.358, 11.0646) -> (22.3856, 13.2657)
  line L160 (20.2283, 11.6635) -> (21.2816, 13.7789)
  line L161 (21.2665, 13.9094) -> (22.4543, 13.4362)
  line L162 (22.0849, 16.1263) -> (23.238, 15.7355)
  line L163 (22.4543, 13.4362) -> (23.238, 15.7355)
  line L164 (21.2665, 13.9094) -> (22.0849, 16.1263)
  line L165 (22.0558, 16.2545) -> (23.2878, 15.9124)
  line L166 (22.6297, 18.5469) -> (23.8182, 18.283)
  line L167 (23.2878, 15.9124) -> (23.8182, 18.283)
  line L168 (22.0558, 16.2545) -> (22.6297, 18.5469)
  line L169 (22.5869, 18.6711) -> (23.8486, 18.4643)
  line L170 (22.9096, 21.0121) -> (24.1197, 20.8783)
  line L171 (23.8486, 18.4643) -> (24.1197, 20.8783)
  line L172 (22.5869, 18.6711) -> (22.9096, 21.0121)
  line L173 (22.8536, 21.131) -> (24.1303, 21.0618)
  line L174 (22.9213, 23.4932) -> (24.1388, 23.491)
  line L175 (24.1303, 21.0618) -> (24.1388, 23.491)
  line L176 (22.8536, 21.131) -> (22.9213, 23.4932)
  line L177 (22.8528, 23.6053) -> (24.1294, 23.6745)
  line L178 (22.6646, 25.9609) -> (23.8752, 26.0904)
  line L179 (24.1294, 23.6745) -> (23.8752, 26.0904)
  line L180 (22.8528, 23.6053) -> (22.6646, 25.9609)
  line L181 (22.5844, 26.065) -> (23.8461, 26.2719)
  line L182 (22.1427, 28.3865) -> (23.3322, 28.6461)
  line L183 (23.8461, 26.2719) -> (23.3322, 28.6461)
  line L184 (22.5844, 26.065) -> (22.1427, 28.3865)
  line L185 (22.0517, 28.4813) -> (23.2837, 28.8234)
  line L186 (21.3616, 30.7414) -> (22.5161, 31.1281)
  line L187 (23.2837, 28.8234) -> (22.5161, 31.1281)
  line L188 (22.0517, 28.4813) -> (21.3616, 30.7414)
  line L189 (21.2609, 30.8258) -> (22.4486, 31.2991)
  line L190 (20.3305, 32.9981) -> (21.4364, 33.5073)
  line L191 (22.4486, 31.2991) -> (21.4364, 33.5073)
  line L192 (21.2609, 30.8258) -> (20.3305, 32.9981)
  line L193 (20.2212, 33.0711) -> (21.3508, 33.67)
  line L194 (19.0614, 35.13) -> (20.1057, 35.7558)
  line L195 (21.3508, 33.67) -> (20.1057, 35.7558)
  line L196 (20.2212, 33.0711) -> (19.0614, 35.13)
  line L197 (18.9449, 35.1908) -> (20.0031, 35.9083)
  line L198 (17.5692, 37.1122) -> (18.5398, 37.8473)
  line L199 (20.0031, 35.9083) -> (18.5398, 37.8473)
  line L200 (18.9449, 35.1908) -> (17.5692, 37.1122)
  line L201 (17.4468, 37.1601) -> (18.4213, 37.9878)
  line L202 (15.8715, 38.9215) -> (16.7569, 39.7572)
  line L203 (18.4213, 37.9878) -> (16.7569, 39.7572)
  line L204 (17.4468, 37.1601) -> (15.8715, 38.9215)
  line L205 (15.7446, 38.9558) -> (16.6239, 39.8841)
  line L206 (13.9881, 40.5366) -> (14.778, 41.4631)
  line L207 (16.6239, 39.8841) -> (14.778, 41.4631)
  line L208 (15.7446, 38.9558) -> (13.9881, 40.5366)
  line L209 (13.8583, 40.557) -> (14.632, 41.5749)
  line L210 (11.9411, 41.9387) -> (12.6262, 42.9451)
  line L211 (14.632, 41.5749) -> (12.6262, 42.9451)
  line L212 (13.8583, 40.557) -> (11.9411, 41.9387)
  line L213 (11.8099, 41.9449) -> (12.469, 43.0404)
  line L214 (9.7546, 43.1111) -> (10.3268, 44.1858)
  line L215 (12.469, 43.0404) -> (10.3268, 44.1858)
  line L216 (11.8099, 41.9449) -> (9.7546, 43.1111)
  line L217 (9.6234, 43.1032) -> (10.1602, 44.2635)
  line L218 (7.4541, 44.0403) -> (7.9068, 45.1706)
  line L219 (10.1602, 44.2635) -> (7.9068, 45.1706)
  line L220 (9.6234, 43.1032) -> (7.4541, 44.0403)
  line L221 (7.3245, 44.0182) -> (7.7328, 45.2299)
  line L222 (5.0666, 44.7154) -> (5.3944, 45.8879)
  line L223 (7.7328, 45.2299) -> (5.3944, 45.8879)
  line L224 (7.3245, 44.0182) -> (5.0666, 44.7154)
  line L225 (4.9402, 44.6794) -> (5.215, 45.928)
  line L226 (2.6201, 45.1283) -> (2.8192, 46.3294)
  line L227 (5.215, 45.928) -> (2.8192, 46.3294)
  line L228 (4.9402, 44.6794) -> (2.6201, 45.1283)
  line L229 (2.4983, 45.0789) -> (2.6366, 46.3499)
  line L230 (0.1433, 45.2743) -> (0.2114, 46.4899)
  line L231 (2.6366, 46.3499) -> (0.2114, 46.4899)
  line L232 (2.4983, 45.0789) -> (0.1433, 45.2743)
  circle A1 centre (0, 0) radius 46.482 projected
  point P0 (0, 47.625)
  dimension "d62" = 24.13
  dimension "d63" = 24.13
  dimension "d64" = 93
  dimension "d67" = 360
extrude "Extrusion1" cut sketch "Sketch2" against normal up to surface (1.27 mm away) contours A0 L1 L3 A1 L0 | A1 L3 L0 | L232 L230 A1 L231 L229 A0 | A0 L229 L232 | L230 L231 A1 | L5 L8 L6 A0 | A0 L6 L7 L5 | L226 L227 L225 A0 | A0 L225 L228 L226 | L9 L12 L10 A0 | A0 L10 L11 L9 | L222 L223 L221 A0 | A0 L221 L224 L222 | L13 L16 L14 A0 | A0 L14 L15 L13 | L218 L219 L217 A0 | A0 L217 L220 L218 | L17 L20 L18 L19 A0 | A0 L19 L17 | L214 L215 A0 | A0 L215 L213 L216 L214 | L24 L22 L23 L21 | L28 L26 L27 L25 | L32 L30 L31 L29 | L36 L34 L35 L33 | L40 L38 L39 L37 | L44 L42 L43 L41 | L48 L46 L47 L45 | L52 L50 L51 L49 | L56 L54 L55 L53 | L60 L58 L59 L57 | L64 L62 L63 L61 | L68 L66 L67 L65 | L72 L70 L71 L69 | L76 L74 L75 L73 | L80 L78 L79 L77 | L84 L82 L83 L81 | L88 L86 L87 L85 | L92 L90 L91 L89 | L96 L94 L95 L93 | L100 L98 L99 L97 | L104 L102 L103 L101 | L108 L106 L107 L105 | L112 L110 L111 L109 | L116 L114 L115 L113 | L120 L118 L119 L117 | L124 L122 L123 L121 | L128 L126 L127 L125 | L132 L130 L131 L129 | L136 L134 L135 L133 | L140 L138 L139 L137 | L144 L142 L143 L141 | L148 L146 L147 L145 | L152 L150 L151 L149 | L156 L154 L155 L153 | L160 L158 L159 L157 | L164 L162 L163 L161 | L168 L166 L167 L165 | L172 L170 L171 L169 | L176 L174 L175 L173 | L180 L178 L179 L177 | L184 L182 L183 L181 | L188 L186 L187 L185 | L192 L190 L191 L189 | L196 L194 L195 L193 | L200 L198 L199 L197 | L204 L202 L203 L201 | L208 L206 L207 L205 | L212 L210 L211 L209
ref_plane "Work Plane1" through (0, 7.62, -2.413) normal (0, 0, 1) x (1, 0, 0)
sketch "Sketch3" plane through (0, 7.62, -2.413) normal (0, 0, 1) x (1, 0, 0)
  line L0 (47.625, -7.62) -> (-47.625, -7.62) projected
  circle A0 centre (0, -1.27) radius 1.27
  point P0 (0, -7.62)
  dimension "d138" = 6.35
  dimension "d139" = 2.54
extrude "Extrusion2" cut sketch "Sketch3" against normal through all
properties part number "Rotation"
